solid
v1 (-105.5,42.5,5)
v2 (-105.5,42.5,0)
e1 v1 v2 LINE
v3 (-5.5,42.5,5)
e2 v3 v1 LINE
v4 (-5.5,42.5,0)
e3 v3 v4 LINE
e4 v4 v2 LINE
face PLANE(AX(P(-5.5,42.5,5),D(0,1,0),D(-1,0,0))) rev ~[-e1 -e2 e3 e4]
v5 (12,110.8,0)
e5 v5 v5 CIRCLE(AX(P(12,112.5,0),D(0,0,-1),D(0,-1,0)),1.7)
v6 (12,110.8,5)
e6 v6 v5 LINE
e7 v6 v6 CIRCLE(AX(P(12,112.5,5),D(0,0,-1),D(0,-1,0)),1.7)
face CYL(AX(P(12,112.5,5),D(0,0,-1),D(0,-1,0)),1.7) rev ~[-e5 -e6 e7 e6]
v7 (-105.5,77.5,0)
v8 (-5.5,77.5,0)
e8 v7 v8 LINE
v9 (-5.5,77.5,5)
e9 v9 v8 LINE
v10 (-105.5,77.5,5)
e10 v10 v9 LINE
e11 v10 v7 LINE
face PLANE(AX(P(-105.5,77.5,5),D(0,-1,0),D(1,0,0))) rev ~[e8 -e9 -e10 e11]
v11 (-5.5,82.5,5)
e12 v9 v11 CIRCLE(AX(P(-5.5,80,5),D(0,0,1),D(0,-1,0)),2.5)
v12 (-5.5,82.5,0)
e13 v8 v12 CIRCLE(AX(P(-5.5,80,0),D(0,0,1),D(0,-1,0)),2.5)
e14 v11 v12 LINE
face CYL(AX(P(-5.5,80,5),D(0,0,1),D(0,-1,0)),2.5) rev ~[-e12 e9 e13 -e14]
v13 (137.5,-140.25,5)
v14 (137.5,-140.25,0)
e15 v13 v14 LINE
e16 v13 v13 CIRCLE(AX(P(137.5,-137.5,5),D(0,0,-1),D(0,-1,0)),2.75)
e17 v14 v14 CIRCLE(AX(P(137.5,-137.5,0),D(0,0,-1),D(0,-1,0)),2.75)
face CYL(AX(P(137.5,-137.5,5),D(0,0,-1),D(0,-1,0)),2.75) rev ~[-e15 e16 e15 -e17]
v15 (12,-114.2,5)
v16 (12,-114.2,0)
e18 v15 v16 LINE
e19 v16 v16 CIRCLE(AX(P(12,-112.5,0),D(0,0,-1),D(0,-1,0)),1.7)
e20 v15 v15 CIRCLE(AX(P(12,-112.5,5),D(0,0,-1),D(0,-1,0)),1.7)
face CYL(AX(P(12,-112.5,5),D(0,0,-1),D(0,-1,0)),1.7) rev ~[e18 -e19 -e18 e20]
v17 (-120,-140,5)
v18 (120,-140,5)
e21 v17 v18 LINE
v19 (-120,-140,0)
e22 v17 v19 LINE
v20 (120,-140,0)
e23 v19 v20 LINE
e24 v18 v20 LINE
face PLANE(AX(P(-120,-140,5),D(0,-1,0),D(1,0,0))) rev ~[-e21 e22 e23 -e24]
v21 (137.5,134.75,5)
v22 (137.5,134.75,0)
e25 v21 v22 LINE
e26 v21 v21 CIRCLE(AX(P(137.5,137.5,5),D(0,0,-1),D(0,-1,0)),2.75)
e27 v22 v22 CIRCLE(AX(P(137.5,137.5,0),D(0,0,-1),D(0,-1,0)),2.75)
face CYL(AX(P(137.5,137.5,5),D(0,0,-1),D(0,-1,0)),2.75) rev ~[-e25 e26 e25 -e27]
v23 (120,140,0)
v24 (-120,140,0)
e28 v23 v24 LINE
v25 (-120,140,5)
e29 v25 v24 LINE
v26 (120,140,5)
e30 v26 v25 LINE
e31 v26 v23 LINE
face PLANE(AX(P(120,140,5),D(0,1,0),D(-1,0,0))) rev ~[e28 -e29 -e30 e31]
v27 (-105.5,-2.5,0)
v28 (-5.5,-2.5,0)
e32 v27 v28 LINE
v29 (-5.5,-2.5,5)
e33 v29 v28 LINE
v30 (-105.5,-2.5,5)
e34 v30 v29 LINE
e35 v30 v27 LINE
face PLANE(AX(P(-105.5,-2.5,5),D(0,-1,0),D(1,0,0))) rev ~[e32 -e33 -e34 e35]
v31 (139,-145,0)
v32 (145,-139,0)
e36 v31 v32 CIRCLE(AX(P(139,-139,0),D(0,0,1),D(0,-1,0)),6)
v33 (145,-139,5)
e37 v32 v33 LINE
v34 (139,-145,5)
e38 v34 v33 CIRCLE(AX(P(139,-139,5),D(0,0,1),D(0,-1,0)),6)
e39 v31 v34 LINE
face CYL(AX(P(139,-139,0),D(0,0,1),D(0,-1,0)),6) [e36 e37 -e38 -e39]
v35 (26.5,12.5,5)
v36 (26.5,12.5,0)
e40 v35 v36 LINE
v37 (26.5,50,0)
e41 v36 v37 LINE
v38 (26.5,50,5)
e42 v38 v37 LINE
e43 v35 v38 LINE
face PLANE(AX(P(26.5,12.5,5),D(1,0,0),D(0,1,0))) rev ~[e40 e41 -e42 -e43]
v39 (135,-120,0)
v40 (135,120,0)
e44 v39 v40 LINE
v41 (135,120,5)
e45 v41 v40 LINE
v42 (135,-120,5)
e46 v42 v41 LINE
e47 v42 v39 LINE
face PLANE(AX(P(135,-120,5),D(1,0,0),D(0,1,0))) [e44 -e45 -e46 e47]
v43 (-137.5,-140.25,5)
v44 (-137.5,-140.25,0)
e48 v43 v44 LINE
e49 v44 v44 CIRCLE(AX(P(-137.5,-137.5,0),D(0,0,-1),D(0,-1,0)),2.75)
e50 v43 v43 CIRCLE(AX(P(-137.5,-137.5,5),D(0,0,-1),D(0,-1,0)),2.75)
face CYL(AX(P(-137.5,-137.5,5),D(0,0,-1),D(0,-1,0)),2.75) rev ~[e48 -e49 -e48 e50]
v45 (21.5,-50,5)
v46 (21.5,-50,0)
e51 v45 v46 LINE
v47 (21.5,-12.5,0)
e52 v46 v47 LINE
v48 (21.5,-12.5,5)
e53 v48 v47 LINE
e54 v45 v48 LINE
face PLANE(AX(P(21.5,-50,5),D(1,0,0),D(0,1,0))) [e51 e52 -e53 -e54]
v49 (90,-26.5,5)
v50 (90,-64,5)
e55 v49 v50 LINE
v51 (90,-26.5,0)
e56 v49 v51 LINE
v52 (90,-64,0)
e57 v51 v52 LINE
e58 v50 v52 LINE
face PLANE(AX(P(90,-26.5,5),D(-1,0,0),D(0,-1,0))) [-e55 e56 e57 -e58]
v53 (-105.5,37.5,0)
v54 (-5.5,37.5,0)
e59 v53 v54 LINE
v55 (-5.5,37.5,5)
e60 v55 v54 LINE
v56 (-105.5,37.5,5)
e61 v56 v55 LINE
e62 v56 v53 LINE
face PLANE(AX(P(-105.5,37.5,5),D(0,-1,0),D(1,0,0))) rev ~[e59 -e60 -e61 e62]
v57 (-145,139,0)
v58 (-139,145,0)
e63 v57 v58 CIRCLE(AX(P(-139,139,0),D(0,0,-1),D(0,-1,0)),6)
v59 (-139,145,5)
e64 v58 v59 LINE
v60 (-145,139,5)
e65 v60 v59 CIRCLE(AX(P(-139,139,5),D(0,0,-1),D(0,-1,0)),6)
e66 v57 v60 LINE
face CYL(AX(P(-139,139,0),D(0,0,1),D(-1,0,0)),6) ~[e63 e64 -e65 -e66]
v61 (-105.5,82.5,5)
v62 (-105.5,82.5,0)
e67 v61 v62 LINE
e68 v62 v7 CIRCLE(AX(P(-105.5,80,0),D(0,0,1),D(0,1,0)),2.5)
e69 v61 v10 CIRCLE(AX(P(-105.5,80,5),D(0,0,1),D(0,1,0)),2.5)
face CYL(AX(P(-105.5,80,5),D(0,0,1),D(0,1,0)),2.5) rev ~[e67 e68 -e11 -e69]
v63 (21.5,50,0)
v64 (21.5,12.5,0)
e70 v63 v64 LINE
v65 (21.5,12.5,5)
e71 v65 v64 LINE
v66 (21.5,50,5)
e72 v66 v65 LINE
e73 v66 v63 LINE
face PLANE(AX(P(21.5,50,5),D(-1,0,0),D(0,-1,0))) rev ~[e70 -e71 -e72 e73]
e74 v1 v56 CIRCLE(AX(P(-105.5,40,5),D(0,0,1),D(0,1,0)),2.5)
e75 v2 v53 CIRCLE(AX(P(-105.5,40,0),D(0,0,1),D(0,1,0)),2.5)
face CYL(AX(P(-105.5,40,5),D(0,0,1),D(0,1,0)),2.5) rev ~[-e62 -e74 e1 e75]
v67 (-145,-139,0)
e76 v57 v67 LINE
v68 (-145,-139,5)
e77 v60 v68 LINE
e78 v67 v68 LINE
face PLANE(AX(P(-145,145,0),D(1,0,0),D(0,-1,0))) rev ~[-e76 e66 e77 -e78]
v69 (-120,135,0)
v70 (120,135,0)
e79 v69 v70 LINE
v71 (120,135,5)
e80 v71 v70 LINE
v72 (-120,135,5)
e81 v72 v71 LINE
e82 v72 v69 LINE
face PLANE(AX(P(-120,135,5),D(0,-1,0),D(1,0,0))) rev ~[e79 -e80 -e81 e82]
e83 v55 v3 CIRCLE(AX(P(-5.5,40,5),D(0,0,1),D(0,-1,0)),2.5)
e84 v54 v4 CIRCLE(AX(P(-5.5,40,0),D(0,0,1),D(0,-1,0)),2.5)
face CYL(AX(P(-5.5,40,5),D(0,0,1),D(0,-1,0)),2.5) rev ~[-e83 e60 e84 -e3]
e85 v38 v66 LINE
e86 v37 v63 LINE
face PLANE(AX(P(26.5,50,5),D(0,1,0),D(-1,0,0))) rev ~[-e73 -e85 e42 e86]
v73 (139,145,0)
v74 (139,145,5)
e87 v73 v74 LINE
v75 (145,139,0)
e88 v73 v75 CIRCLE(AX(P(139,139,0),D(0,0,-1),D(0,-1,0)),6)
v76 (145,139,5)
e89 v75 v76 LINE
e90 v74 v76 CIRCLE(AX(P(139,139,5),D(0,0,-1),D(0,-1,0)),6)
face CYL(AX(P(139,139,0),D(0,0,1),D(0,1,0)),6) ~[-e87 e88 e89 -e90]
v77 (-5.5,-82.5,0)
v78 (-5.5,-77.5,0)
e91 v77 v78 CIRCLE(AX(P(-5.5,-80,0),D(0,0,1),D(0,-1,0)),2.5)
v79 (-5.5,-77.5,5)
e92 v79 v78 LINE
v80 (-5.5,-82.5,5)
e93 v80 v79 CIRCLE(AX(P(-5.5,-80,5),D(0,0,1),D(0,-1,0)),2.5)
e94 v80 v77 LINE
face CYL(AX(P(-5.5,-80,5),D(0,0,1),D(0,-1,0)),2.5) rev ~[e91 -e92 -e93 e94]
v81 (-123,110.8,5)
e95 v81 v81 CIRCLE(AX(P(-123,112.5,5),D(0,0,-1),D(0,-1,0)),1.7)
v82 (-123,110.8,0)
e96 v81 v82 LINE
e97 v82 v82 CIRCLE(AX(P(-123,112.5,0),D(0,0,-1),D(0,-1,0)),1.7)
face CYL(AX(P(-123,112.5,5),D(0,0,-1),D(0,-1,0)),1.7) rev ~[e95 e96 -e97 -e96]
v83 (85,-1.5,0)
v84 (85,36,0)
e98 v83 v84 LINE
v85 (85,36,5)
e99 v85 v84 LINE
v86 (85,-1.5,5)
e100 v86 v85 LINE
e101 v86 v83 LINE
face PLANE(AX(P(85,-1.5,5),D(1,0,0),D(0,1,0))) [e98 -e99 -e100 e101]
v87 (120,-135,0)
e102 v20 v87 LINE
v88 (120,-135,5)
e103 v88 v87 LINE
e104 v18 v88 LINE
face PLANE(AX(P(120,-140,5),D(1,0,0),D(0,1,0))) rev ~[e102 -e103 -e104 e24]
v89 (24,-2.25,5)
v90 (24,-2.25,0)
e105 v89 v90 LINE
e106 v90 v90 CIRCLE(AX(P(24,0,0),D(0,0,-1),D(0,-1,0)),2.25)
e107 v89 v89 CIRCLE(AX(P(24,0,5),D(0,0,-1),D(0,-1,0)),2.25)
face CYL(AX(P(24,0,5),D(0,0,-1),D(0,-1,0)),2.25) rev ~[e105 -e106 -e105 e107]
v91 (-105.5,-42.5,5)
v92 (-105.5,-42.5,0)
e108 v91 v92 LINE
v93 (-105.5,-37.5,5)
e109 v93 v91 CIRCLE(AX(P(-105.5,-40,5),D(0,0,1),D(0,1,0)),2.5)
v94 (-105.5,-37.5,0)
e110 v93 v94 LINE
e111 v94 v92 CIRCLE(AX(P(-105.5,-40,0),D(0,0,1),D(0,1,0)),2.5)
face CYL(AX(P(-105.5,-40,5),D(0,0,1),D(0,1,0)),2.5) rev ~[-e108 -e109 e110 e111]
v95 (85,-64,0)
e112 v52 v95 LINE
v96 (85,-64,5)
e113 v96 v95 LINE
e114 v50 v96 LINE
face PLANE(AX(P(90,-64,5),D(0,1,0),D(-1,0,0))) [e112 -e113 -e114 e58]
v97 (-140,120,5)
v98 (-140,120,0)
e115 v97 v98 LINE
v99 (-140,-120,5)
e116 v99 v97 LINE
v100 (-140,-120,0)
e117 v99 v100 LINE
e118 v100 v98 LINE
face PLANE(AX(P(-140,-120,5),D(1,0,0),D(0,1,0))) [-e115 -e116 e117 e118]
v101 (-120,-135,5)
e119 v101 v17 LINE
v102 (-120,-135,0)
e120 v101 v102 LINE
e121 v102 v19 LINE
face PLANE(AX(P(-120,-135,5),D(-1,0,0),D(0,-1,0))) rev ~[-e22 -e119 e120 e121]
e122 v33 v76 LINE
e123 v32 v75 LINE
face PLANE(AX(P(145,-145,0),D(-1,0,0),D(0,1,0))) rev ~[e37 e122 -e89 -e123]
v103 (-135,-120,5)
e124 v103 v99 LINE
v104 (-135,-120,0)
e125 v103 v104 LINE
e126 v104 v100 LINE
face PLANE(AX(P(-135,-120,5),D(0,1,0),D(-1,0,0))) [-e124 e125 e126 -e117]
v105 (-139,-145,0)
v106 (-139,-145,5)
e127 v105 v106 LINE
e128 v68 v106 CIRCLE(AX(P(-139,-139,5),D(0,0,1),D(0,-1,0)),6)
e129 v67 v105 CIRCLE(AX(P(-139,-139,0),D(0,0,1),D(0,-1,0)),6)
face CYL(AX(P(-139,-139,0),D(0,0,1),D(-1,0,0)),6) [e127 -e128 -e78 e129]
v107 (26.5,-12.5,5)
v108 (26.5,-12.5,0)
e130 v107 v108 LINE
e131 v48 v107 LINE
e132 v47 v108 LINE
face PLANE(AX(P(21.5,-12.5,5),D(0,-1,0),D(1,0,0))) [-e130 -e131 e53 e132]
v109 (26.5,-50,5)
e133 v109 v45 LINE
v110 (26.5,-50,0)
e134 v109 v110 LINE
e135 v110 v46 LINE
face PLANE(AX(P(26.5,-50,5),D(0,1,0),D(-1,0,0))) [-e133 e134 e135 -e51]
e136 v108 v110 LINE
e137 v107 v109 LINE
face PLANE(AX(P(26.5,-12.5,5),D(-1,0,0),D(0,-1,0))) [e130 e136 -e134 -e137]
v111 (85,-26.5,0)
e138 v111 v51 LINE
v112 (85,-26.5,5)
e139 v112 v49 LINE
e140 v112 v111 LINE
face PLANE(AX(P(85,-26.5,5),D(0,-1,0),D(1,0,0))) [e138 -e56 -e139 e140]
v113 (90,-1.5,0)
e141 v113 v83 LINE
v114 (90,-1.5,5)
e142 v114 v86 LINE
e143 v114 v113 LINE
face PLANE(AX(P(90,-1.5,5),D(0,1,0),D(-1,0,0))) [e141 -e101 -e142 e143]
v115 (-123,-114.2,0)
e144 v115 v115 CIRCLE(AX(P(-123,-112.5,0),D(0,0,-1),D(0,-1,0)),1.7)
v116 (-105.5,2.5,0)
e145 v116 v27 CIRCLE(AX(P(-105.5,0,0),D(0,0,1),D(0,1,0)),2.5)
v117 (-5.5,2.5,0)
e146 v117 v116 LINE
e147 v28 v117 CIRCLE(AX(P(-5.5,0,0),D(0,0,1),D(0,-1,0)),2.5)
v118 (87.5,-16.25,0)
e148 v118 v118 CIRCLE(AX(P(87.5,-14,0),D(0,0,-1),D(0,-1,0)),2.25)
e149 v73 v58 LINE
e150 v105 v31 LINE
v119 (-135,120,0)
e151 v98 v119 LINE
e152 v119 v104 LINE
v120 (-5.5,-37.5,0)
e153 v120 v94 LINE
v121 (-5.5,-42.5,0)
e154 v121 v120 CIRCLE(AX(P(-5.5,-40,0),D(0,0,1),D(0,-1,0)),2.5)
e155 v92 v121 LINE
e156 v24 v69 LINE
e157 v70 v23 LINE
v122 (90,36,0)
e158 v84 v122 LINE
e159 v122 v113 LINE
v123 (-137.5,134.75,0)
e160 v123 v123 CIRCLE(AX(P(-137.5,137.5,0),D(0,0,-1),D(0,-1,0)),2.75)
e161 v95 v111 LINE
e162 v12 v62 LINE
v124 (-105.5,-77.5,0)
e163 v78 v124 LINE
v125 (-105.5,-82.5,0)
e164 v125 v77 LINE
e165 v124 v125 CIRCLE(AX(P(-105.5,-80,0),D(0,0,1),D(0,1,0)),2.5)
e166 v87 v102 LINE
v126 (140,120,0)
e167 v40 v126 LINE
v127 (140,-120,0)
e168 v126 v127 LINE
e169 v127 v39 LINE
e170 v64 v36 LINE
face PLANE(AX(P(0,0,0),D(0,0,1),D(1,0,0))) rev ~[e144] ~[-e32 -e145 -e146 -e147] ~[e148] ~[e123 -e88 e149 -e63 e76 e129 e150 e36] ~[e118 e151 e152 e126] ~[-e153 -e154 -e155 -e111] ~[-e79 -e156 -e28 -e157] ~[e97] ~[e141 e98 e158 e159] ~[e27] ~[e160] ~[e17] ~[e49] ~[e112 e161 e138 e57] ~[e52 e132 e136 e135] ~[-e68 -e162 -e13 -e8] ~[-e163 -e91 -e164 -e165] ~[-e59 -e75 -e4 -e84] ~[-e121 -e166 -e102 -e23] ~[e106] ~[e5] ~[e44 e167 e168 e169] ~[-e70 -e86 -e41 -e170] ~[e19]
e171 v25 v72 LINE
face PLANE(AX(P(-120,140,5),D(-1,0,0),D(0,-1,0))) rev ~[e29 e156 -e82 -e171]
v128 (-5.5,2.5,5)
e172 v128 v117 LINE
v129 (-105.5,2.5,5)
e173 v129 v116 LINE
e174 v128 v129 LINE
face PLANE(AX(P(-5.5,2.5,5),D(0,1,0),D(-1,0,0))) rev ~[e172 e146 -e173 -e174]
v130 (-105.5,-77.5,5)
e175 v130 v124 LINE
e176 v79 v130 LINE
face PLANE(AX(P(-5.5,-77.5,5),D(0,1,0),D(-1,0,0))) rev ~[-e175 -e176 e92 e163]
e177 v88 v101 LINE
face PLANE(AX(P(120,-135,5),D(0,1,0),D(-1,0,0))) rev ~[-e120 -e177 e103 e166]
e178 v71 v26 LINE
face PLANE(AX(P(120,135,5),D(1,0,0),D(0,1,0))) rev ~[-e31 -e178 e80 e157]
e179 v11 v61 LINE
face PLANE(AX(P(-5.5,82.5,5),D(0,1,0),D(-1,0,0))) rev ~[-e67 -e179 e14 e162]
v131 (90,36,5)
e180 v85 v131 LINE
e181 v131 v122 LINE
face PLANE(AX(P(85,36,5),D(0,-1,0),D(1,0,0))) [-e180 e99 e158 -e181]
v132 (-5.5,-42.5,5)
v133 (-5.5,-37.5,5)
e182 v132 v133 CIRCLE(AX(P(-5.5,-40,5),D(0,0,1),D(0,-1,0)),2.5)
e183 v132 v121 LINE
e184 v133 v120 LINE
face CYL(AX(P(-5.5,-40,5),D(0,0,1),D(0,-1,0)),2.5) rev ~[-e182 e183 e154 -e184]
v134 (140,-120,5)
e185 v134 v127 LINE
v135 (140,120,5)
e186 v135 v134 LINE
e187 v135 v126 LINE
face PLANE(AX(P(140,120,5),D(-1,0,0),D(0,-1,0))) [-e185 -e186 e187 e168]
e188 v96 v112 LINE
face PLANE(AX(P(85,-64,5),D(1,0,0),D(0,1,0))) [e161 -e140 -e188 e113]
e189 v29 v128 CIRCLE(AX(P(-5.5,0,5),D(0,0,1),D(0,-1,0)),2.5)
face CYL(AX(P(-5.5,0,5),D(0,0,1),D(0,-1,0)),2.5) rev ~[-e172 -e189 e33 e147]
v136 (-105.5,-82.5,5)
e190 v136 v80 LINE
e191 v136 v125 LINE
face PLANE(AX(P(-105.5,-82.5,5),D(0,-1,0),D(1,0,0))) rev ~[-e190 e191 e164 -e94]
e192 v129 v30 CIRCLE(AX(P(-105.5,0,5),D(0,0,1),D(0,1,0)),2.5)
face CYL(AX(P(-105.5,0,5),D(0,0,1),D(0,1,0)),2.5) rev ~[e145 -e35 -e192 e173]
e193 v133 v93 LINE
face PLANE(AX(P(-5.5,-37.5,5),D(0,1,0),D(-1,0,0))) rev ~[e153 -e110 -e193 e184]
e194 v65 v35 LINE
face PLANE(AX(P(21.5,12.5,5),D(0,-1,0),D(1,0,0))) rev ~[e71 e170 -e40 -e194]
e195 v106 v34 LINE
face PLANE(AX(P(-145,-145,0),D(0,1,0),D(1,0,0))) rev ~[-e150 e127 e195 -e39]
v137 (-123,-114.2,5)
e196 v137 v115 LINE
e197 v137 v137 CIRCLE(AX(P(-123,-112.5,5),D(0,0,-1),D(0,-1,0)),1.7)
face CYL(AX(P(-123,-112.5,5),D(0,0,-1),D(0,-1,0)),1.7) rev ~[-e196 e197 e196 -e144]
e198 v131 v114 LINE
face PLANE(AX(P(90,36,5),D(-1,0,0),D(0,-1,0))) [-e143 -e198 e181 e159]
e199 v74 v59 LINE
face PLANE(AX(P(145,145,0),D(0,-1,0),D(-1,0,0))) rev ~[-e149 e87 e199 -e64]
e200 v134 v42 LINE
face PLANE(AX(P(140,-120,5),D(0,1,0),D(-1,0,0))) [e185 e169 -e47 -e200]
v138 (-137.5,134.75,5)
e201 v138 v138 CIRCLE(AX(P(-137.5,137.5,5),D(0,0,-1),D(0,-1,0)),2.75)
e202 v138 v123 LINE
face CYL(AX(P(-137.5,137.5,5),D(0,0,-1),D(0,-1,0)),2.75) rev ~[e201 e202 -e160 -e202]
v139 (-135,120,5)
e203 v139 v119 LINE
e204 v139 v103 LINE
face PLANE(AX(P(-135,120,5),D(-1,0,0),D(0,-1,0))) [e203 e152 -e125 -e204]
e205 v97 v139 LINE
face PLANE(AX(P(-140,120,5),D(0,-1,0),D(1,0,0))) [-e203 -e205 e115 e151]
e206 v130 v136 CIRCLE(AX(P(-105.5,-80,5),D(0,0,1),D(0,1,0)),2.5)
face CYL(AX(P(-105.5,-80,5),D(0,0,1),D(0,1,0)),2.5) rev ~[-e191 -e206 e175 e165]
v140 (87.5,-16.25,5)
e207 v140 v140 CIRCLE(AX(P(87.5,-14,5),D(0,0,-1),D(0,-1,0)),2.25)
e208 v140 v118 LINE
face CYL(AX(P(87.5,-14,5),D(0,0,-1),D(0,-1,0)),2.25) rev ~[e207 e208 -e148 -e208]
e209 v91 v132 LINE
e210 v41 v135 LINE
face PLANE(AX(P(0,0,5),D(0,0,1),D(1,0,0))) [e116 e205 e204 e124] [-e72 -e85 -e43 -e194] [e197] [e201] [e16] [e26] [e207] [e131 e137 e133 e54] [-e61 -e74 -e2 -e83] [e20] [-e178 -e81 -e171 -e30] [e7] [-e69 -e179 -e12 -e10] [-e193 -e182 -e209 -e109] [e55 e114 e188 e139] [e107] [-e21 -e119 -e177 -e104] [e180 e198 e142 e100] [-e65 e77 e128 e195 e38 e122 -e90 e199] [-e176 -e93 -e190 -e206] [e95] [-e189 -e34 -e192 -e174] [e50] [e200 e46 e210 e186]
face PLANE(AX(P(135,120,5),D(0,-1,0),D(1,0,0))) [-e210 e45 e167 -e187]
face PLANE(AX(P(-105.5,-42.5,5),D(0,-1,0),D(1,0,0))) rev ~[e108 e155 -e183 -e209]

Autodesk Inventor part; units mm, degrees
ref_plane "YZ Plane" through (0, 0, 0) normal (1, 0, 0) x (0, 1, 0)
ref_plane "XZ Plane" through (0, 0, 0) normal (0, 1, 0) x (-1, 0, 0)
ref_plane "XY Plane" through (0, 0, 0) normal (0, 0, 1) x (1, 0, 0)
sketch "Sketch1" plane through (0, 0, 0) normal (0, 0, 1) x (1, 0, 0)
  line L0 (-145, -145) -> (145, -145)
  line L1 (145, -145) -> (145, 145)
  line L2 (145, 145) -> (-145, 145)
  line L3 (-145, 145) -> (-145, -145)
  line L4 (-145, -145) -> (145, 145) construction
  line L5 (145, -145) -> (-145, 145) construction
  point P0 (0, 0)
  dimension "d0" = 290
  dimension "d1" = 290
extrude "Extrusion1" add sketch "Sketch1" along normal blind 5
sketch "Sketch2" plane through (0, 0, 5) normal (0, 0, 1) x (1, 0, 0)
  line L0 (-137.5, -137.5) -> (137.5, -137.5) construction
  line L1 (137.5, -137.5) -> (137.5, 137.5) construction
  line L2 (137.5, 137.5) -> (-137.5, 137.5) construction
  line L3 (-137.5, 137.5) -> (-137.5, -137.5) construction
  line L4 (-137.5, -137.5) -> (137.5, 137.5) construction
  line L5 (137.5, -137.5) -> (-137.5, 137.5) construction
  point P0 (0, 0)
  dimension "d4" = 275
  dimension "d5" = 275
hole "Hole1" at (-137.5, 137.5, 5) at (137.5, 137.5, 5) at (137.5, -137.5, 5) at (-137.5, -137.5, 5) direction (0, 0, -1) diameter 5.5 depth 8 tip angle 118 clearance for "Countersunk Flat Head Screw DIN EN ISO 2009" size "M5" standard "DIN"
sketch "Sketch3" plane through (0, 0, 5) normal (0, 0, 1) x (1, 0, 0)
  line L0 (-123, 112.5) -> (12, 112.5) construction
  line L1 (12, 112.5) -> (12, -112.5) construction
  line L2 (12, -112.5) -> (-123, -112.5) construction
  line L3 (-123, -112.5) -> (-123, 112.5) construction
  line L4 (-145, 145) -> (-145, -145) projected
  line L5 (145, -145) -> (145, 145) projected
  point P0 (0, 0)
  point P1 (12, 0)
  dimension "d13" = 135
  dimension "d34" = 225
  dimension "d35" = 22
hole "Hole2" at (-123, 112.5, 5) at (12, 112.5, 5) at (12, -112.5, 5) at (-123, -112.5, 5) direction (0, 0, -1) diameter 3.4 depth 8 tip angle 118 clearance for "Countersunk Flat Head Screw DIN EN ISO 2009" size "M3" standard "DIN"
sketch "Sketch4" plane through (0, 0, 5) normal (0, 0, 1) x (1, 0, 0)
  line L0 (-140, 120) -> (-135, 120)
  line L1 (-135, 120) -> (-135, -120)
  line L2 (-135, -120) -> (-140, -120)
  line L3 (-140, -120) -> (-140, 120)
  line L4 (-120, -140) -> (120, -140)
  line L5 (120, -140) -> (120, -135)
  line L6 (120, -135) -> (-120, -135)
  line L7 (-120, -135) -> (-120, -140)
  line L8 (140, -120) -> (135, -120)
  line L9 (135, -120) -> (135, 120)
  line L10 (135, 120) -> (140, 120)
  line L11 (140, 120) -> (140, -120)
  line L12 (120, 140) -> (-120, 140)
  line L13 (-120, 140) -> (-120, 135)
  line L14 (-120, 135) -> (120, 135)
  line L15 (120, 135) -> (120, 140)
  line L16 (-145, 145) -> (-145, -145) projected
  line L17 (145, 145) -> (-145, 145) projected
  line L18 (145, -145) -> (145, 145) projected
  line L19 (-145, -145) -> (145, -145) projected
  point P0 (0, 0)
  point P1 (0, 135)
  point P2 (0, -135)
  point P3 (-135, 0)
  point P4 (135, 0)
  dimension "d21" = 240
  dimension "d22" = 240
  dimension "d23" = 5
  dimension "d24" = 5
  dimension "d25" = 5
  dimension "d26" = 5
  dimension "d27" = 5
  dimension "d28" = 5
  dimension "d29" = 5
  dimension "d30" = 5
extrude "Extrusion2" cut sketch "Sketch4" against normal blind 10 contours L0 L1 L2 L3 | L7 L6 L5 L4 | L8 L9 L10 L11 | L15 L14 L13 L12
fillet "Fillet1" radius 6 4 edges at (-145, -145, 2.5) (145, -145, 2.5) (145, 145, 2.5) (-145, 145, 2.5)
sketch "Sketch6" plane through (0, 0, 5) normal (0, 0, 1) x (1, 0, 0)
  line L0 (135, -120) -> (135, 120) construction
  line L1 (21.5, 12.5) -> (26.5, 12.5)
  line L2 (26.5, 12.5) -> (26.5, 50)
  line L3 (26.5, 50) -> (21.5, 50)
  line L4 (21.5, 50) -> (21.5, 12.5)
  line L5 (21.5, -12.5) -> (26.5, -12.5)
  line L6 (26.5, -12.5) -> (26.5, -50)
  line L7 (26.5, -50) -> (21.5, -50)
  line L8 (21.5, -50) -> (21.5, -12.5)
  line L9 (90, -64) -> (85, -64)
  line L10 (85, -64) -> (85, -26.5)
  line L11 (85, -26.5) -> (90, -26.5)
  line L12 (90, -26.5) -> (90, -64)
  line L13 (90, -1.5) -> (85, -1.5)
  line L14 (85, -1.5) -> (85, 36)
  line L15 (85, 36) -> (90, 36)
  line L16 (90, 36) -> (90, -1.5)
  line L17 (21.5, -12.5) -> (21.5, 12.5) construction
  point P0 (0, 0)
  point P1 (21.5, 0)
  dimension "d95" = 5
  dimension "d96" = 37.5
  dimension "d97" = 37.5
  dimension "d98" = 5
  dimension "d99" = 25
  dimension "d100" = 21.5
  dimension "d101" = 37.5
  dimension "d102" = 5
  dimension "d103" = 37.5
  dimension "d104" = 25
  dimension "d105" = 58.5
  dimension "d113" = 14
extrude "Extrusion3" cut sketch "Sketch6" against normal through all
sketch "Sketch7" plane through (0, 0, 5) normal (0, 0, 1) x (1, 0, 0)
  line L0 (21.5, 12.5) -> (21.5, 50) projected
  line L1 (26.5, 12.5) -> (21.5, 12.5) projected
  line L2 (85, -1.5) -> (85, 36) projected
  line L3 (90, -1.5) -> (85, -1.5) projected
  line L4 (85, -26.5) -> (90, -26.5) projected
  line L5 (21.5, -12.5) -> (26.5, -12.5) projected
  point P0 (0, 0)
  point P1 (24, 0)
  point P2 (87.5, -14)
  dimension "d107" = 2.5
  dimension "d108" = 2.5
  dimension "d109" = 25
  dimension "d110" = 12.5
  dimension "d111" = 25
  dimension "d112" = 12.5
hole "Hole3" at (24, 0, 5) at (87.5, -14, 5) direction (0, 0, -1) diameter 4.5 depth 8 tip angle 118 clearance for "Countersunk Flat Head Screw DIN EN ISO 2009" size "M4" standard "DIN"
sketch "Sketch11" plane through (0, 0, 5) normal (0, 0, 1) x (1, 0, 0)
  circle A0 centre (12, 112.5) radius 1.7 projected
  circle A1 centre (-123, 112.5) radius 1.7 projected
  circle A2 centre (-123, -112.5) radius 1.7 projected
  circle A3 centre (12, -112.5) radius 1.7 projected
  line L0 (12, 112.5) -> (-123, 112.5) construction
  line L1 (-123, 112.5) -> (-123, -112.5) construction
  line L2 (-123, -112.5) -> (12, -112.5) construction
  line L3 (12, -112.5) -> (12, 112.5) construction
  line L4 (-5.5, 0) -> (-105.5, 0) construction
  line L5 (-5.5, 2.5) -> (-105.5, 2.5)
  line L6 (-105.5, -2.5) -> (-5.5, -2.5)
  arc A4 (-5.5, -2.5) -> (-5.5, 2.5) centre (-5.5, 0) ccw
  arc A5 (-105.5, 2.5) -> (-105.5, -2.5) centre (-105.5, 0) ccw
  line L7 (-5.5, 40) -> (-105.5, 40) construction
  line L8 (-5.5, 42.5) -> (-105.5, 42.5)
  line L9 (-105.5, 37.5) -> (-5.5, 37.5)
  arc A6 (-5.5, 37.5) -> (-5.5, 42.5) centre (-5.5, 40) ccw
  arc A7 (-105.5, 42.5) -> (-105.5, 37.5) centre (-105.5, 40) ccw
  line L10 (-5.5, 80) -> (-105.5, 80) construction
  line L11 (-5.5, 82.5) -> (-105.5, 82.5)
  line L12 (-105.5, 77.5) -> (-5.5, 77.5)
  arc A8 (-5.5, 77.5) -> (-5.5, 82.5) centre (-5.5, 80) ccw
  arc A9 (-105.5, 82.5) -> (-105.5, 77.5) centre (-105.5, 80) ccw
  line L13 (-5.5, -37.5) -> (-105.5, -37.5)
  line L14 (-5.5, -40) -> (-105.5, -40) construction
  line L15 (-105.5, -42.5) -> (-5.5, -42.5)
  arc A10 (-5.5, -42.5) -> (-5.5, -37.5) centre (-5.5, -40) ccw
  arc A11 (-105.5, -37.5) -> (-105.5, -42.5) centre (-105.5, -40) ccw
  line L16 (-5.5, -77.5) -> (-105.5, -77.5)
  line L17 (-5.5, -80) -> (-105.5, -80) construction
  line L18 (-105.5, -82.5) -> (-5.5, -82.5)
  arc A12 (-5.5, -82.5) -> (-5.5, -77.5) centre (-5.5, -80) ccw
  arc A13 (-105.5, -77.5) -> (-105.5, -82.5) centre (-105.5, -80) ccw
  point P0 (0, 0)
  point P1 (-55.5, 0)
  point P2 (-55.5, 40)
  point P3 (-55.5, 80)
  point P4 (-55.5, -40)
  point P5 (-55.5, -80)
  dimension "d114" = 5
  dimension "d115" = 100
  dimension "d116" = 135
  dimension "d117" = 17.5
  dimension "d120" = 40
  dimension "d127" = 40
extrude "Extrusion4" cut sketch "Sketch11" against normal blind 10 contours A4 L6 A5 L5 | A6 L9 A7 L8 | A8 L12 A9 L11 | A10 L15 A11 L13 | A12 L18 A13 L16
equation "\"d110\" = 0.5 * d109"
equation "\"d112\" = 0.5 * d111"
equation "\"d117\" = -0.5 * d115 + 0.5 * d116"
properties part number "bottom" material "Polycarbonate, Clear"
